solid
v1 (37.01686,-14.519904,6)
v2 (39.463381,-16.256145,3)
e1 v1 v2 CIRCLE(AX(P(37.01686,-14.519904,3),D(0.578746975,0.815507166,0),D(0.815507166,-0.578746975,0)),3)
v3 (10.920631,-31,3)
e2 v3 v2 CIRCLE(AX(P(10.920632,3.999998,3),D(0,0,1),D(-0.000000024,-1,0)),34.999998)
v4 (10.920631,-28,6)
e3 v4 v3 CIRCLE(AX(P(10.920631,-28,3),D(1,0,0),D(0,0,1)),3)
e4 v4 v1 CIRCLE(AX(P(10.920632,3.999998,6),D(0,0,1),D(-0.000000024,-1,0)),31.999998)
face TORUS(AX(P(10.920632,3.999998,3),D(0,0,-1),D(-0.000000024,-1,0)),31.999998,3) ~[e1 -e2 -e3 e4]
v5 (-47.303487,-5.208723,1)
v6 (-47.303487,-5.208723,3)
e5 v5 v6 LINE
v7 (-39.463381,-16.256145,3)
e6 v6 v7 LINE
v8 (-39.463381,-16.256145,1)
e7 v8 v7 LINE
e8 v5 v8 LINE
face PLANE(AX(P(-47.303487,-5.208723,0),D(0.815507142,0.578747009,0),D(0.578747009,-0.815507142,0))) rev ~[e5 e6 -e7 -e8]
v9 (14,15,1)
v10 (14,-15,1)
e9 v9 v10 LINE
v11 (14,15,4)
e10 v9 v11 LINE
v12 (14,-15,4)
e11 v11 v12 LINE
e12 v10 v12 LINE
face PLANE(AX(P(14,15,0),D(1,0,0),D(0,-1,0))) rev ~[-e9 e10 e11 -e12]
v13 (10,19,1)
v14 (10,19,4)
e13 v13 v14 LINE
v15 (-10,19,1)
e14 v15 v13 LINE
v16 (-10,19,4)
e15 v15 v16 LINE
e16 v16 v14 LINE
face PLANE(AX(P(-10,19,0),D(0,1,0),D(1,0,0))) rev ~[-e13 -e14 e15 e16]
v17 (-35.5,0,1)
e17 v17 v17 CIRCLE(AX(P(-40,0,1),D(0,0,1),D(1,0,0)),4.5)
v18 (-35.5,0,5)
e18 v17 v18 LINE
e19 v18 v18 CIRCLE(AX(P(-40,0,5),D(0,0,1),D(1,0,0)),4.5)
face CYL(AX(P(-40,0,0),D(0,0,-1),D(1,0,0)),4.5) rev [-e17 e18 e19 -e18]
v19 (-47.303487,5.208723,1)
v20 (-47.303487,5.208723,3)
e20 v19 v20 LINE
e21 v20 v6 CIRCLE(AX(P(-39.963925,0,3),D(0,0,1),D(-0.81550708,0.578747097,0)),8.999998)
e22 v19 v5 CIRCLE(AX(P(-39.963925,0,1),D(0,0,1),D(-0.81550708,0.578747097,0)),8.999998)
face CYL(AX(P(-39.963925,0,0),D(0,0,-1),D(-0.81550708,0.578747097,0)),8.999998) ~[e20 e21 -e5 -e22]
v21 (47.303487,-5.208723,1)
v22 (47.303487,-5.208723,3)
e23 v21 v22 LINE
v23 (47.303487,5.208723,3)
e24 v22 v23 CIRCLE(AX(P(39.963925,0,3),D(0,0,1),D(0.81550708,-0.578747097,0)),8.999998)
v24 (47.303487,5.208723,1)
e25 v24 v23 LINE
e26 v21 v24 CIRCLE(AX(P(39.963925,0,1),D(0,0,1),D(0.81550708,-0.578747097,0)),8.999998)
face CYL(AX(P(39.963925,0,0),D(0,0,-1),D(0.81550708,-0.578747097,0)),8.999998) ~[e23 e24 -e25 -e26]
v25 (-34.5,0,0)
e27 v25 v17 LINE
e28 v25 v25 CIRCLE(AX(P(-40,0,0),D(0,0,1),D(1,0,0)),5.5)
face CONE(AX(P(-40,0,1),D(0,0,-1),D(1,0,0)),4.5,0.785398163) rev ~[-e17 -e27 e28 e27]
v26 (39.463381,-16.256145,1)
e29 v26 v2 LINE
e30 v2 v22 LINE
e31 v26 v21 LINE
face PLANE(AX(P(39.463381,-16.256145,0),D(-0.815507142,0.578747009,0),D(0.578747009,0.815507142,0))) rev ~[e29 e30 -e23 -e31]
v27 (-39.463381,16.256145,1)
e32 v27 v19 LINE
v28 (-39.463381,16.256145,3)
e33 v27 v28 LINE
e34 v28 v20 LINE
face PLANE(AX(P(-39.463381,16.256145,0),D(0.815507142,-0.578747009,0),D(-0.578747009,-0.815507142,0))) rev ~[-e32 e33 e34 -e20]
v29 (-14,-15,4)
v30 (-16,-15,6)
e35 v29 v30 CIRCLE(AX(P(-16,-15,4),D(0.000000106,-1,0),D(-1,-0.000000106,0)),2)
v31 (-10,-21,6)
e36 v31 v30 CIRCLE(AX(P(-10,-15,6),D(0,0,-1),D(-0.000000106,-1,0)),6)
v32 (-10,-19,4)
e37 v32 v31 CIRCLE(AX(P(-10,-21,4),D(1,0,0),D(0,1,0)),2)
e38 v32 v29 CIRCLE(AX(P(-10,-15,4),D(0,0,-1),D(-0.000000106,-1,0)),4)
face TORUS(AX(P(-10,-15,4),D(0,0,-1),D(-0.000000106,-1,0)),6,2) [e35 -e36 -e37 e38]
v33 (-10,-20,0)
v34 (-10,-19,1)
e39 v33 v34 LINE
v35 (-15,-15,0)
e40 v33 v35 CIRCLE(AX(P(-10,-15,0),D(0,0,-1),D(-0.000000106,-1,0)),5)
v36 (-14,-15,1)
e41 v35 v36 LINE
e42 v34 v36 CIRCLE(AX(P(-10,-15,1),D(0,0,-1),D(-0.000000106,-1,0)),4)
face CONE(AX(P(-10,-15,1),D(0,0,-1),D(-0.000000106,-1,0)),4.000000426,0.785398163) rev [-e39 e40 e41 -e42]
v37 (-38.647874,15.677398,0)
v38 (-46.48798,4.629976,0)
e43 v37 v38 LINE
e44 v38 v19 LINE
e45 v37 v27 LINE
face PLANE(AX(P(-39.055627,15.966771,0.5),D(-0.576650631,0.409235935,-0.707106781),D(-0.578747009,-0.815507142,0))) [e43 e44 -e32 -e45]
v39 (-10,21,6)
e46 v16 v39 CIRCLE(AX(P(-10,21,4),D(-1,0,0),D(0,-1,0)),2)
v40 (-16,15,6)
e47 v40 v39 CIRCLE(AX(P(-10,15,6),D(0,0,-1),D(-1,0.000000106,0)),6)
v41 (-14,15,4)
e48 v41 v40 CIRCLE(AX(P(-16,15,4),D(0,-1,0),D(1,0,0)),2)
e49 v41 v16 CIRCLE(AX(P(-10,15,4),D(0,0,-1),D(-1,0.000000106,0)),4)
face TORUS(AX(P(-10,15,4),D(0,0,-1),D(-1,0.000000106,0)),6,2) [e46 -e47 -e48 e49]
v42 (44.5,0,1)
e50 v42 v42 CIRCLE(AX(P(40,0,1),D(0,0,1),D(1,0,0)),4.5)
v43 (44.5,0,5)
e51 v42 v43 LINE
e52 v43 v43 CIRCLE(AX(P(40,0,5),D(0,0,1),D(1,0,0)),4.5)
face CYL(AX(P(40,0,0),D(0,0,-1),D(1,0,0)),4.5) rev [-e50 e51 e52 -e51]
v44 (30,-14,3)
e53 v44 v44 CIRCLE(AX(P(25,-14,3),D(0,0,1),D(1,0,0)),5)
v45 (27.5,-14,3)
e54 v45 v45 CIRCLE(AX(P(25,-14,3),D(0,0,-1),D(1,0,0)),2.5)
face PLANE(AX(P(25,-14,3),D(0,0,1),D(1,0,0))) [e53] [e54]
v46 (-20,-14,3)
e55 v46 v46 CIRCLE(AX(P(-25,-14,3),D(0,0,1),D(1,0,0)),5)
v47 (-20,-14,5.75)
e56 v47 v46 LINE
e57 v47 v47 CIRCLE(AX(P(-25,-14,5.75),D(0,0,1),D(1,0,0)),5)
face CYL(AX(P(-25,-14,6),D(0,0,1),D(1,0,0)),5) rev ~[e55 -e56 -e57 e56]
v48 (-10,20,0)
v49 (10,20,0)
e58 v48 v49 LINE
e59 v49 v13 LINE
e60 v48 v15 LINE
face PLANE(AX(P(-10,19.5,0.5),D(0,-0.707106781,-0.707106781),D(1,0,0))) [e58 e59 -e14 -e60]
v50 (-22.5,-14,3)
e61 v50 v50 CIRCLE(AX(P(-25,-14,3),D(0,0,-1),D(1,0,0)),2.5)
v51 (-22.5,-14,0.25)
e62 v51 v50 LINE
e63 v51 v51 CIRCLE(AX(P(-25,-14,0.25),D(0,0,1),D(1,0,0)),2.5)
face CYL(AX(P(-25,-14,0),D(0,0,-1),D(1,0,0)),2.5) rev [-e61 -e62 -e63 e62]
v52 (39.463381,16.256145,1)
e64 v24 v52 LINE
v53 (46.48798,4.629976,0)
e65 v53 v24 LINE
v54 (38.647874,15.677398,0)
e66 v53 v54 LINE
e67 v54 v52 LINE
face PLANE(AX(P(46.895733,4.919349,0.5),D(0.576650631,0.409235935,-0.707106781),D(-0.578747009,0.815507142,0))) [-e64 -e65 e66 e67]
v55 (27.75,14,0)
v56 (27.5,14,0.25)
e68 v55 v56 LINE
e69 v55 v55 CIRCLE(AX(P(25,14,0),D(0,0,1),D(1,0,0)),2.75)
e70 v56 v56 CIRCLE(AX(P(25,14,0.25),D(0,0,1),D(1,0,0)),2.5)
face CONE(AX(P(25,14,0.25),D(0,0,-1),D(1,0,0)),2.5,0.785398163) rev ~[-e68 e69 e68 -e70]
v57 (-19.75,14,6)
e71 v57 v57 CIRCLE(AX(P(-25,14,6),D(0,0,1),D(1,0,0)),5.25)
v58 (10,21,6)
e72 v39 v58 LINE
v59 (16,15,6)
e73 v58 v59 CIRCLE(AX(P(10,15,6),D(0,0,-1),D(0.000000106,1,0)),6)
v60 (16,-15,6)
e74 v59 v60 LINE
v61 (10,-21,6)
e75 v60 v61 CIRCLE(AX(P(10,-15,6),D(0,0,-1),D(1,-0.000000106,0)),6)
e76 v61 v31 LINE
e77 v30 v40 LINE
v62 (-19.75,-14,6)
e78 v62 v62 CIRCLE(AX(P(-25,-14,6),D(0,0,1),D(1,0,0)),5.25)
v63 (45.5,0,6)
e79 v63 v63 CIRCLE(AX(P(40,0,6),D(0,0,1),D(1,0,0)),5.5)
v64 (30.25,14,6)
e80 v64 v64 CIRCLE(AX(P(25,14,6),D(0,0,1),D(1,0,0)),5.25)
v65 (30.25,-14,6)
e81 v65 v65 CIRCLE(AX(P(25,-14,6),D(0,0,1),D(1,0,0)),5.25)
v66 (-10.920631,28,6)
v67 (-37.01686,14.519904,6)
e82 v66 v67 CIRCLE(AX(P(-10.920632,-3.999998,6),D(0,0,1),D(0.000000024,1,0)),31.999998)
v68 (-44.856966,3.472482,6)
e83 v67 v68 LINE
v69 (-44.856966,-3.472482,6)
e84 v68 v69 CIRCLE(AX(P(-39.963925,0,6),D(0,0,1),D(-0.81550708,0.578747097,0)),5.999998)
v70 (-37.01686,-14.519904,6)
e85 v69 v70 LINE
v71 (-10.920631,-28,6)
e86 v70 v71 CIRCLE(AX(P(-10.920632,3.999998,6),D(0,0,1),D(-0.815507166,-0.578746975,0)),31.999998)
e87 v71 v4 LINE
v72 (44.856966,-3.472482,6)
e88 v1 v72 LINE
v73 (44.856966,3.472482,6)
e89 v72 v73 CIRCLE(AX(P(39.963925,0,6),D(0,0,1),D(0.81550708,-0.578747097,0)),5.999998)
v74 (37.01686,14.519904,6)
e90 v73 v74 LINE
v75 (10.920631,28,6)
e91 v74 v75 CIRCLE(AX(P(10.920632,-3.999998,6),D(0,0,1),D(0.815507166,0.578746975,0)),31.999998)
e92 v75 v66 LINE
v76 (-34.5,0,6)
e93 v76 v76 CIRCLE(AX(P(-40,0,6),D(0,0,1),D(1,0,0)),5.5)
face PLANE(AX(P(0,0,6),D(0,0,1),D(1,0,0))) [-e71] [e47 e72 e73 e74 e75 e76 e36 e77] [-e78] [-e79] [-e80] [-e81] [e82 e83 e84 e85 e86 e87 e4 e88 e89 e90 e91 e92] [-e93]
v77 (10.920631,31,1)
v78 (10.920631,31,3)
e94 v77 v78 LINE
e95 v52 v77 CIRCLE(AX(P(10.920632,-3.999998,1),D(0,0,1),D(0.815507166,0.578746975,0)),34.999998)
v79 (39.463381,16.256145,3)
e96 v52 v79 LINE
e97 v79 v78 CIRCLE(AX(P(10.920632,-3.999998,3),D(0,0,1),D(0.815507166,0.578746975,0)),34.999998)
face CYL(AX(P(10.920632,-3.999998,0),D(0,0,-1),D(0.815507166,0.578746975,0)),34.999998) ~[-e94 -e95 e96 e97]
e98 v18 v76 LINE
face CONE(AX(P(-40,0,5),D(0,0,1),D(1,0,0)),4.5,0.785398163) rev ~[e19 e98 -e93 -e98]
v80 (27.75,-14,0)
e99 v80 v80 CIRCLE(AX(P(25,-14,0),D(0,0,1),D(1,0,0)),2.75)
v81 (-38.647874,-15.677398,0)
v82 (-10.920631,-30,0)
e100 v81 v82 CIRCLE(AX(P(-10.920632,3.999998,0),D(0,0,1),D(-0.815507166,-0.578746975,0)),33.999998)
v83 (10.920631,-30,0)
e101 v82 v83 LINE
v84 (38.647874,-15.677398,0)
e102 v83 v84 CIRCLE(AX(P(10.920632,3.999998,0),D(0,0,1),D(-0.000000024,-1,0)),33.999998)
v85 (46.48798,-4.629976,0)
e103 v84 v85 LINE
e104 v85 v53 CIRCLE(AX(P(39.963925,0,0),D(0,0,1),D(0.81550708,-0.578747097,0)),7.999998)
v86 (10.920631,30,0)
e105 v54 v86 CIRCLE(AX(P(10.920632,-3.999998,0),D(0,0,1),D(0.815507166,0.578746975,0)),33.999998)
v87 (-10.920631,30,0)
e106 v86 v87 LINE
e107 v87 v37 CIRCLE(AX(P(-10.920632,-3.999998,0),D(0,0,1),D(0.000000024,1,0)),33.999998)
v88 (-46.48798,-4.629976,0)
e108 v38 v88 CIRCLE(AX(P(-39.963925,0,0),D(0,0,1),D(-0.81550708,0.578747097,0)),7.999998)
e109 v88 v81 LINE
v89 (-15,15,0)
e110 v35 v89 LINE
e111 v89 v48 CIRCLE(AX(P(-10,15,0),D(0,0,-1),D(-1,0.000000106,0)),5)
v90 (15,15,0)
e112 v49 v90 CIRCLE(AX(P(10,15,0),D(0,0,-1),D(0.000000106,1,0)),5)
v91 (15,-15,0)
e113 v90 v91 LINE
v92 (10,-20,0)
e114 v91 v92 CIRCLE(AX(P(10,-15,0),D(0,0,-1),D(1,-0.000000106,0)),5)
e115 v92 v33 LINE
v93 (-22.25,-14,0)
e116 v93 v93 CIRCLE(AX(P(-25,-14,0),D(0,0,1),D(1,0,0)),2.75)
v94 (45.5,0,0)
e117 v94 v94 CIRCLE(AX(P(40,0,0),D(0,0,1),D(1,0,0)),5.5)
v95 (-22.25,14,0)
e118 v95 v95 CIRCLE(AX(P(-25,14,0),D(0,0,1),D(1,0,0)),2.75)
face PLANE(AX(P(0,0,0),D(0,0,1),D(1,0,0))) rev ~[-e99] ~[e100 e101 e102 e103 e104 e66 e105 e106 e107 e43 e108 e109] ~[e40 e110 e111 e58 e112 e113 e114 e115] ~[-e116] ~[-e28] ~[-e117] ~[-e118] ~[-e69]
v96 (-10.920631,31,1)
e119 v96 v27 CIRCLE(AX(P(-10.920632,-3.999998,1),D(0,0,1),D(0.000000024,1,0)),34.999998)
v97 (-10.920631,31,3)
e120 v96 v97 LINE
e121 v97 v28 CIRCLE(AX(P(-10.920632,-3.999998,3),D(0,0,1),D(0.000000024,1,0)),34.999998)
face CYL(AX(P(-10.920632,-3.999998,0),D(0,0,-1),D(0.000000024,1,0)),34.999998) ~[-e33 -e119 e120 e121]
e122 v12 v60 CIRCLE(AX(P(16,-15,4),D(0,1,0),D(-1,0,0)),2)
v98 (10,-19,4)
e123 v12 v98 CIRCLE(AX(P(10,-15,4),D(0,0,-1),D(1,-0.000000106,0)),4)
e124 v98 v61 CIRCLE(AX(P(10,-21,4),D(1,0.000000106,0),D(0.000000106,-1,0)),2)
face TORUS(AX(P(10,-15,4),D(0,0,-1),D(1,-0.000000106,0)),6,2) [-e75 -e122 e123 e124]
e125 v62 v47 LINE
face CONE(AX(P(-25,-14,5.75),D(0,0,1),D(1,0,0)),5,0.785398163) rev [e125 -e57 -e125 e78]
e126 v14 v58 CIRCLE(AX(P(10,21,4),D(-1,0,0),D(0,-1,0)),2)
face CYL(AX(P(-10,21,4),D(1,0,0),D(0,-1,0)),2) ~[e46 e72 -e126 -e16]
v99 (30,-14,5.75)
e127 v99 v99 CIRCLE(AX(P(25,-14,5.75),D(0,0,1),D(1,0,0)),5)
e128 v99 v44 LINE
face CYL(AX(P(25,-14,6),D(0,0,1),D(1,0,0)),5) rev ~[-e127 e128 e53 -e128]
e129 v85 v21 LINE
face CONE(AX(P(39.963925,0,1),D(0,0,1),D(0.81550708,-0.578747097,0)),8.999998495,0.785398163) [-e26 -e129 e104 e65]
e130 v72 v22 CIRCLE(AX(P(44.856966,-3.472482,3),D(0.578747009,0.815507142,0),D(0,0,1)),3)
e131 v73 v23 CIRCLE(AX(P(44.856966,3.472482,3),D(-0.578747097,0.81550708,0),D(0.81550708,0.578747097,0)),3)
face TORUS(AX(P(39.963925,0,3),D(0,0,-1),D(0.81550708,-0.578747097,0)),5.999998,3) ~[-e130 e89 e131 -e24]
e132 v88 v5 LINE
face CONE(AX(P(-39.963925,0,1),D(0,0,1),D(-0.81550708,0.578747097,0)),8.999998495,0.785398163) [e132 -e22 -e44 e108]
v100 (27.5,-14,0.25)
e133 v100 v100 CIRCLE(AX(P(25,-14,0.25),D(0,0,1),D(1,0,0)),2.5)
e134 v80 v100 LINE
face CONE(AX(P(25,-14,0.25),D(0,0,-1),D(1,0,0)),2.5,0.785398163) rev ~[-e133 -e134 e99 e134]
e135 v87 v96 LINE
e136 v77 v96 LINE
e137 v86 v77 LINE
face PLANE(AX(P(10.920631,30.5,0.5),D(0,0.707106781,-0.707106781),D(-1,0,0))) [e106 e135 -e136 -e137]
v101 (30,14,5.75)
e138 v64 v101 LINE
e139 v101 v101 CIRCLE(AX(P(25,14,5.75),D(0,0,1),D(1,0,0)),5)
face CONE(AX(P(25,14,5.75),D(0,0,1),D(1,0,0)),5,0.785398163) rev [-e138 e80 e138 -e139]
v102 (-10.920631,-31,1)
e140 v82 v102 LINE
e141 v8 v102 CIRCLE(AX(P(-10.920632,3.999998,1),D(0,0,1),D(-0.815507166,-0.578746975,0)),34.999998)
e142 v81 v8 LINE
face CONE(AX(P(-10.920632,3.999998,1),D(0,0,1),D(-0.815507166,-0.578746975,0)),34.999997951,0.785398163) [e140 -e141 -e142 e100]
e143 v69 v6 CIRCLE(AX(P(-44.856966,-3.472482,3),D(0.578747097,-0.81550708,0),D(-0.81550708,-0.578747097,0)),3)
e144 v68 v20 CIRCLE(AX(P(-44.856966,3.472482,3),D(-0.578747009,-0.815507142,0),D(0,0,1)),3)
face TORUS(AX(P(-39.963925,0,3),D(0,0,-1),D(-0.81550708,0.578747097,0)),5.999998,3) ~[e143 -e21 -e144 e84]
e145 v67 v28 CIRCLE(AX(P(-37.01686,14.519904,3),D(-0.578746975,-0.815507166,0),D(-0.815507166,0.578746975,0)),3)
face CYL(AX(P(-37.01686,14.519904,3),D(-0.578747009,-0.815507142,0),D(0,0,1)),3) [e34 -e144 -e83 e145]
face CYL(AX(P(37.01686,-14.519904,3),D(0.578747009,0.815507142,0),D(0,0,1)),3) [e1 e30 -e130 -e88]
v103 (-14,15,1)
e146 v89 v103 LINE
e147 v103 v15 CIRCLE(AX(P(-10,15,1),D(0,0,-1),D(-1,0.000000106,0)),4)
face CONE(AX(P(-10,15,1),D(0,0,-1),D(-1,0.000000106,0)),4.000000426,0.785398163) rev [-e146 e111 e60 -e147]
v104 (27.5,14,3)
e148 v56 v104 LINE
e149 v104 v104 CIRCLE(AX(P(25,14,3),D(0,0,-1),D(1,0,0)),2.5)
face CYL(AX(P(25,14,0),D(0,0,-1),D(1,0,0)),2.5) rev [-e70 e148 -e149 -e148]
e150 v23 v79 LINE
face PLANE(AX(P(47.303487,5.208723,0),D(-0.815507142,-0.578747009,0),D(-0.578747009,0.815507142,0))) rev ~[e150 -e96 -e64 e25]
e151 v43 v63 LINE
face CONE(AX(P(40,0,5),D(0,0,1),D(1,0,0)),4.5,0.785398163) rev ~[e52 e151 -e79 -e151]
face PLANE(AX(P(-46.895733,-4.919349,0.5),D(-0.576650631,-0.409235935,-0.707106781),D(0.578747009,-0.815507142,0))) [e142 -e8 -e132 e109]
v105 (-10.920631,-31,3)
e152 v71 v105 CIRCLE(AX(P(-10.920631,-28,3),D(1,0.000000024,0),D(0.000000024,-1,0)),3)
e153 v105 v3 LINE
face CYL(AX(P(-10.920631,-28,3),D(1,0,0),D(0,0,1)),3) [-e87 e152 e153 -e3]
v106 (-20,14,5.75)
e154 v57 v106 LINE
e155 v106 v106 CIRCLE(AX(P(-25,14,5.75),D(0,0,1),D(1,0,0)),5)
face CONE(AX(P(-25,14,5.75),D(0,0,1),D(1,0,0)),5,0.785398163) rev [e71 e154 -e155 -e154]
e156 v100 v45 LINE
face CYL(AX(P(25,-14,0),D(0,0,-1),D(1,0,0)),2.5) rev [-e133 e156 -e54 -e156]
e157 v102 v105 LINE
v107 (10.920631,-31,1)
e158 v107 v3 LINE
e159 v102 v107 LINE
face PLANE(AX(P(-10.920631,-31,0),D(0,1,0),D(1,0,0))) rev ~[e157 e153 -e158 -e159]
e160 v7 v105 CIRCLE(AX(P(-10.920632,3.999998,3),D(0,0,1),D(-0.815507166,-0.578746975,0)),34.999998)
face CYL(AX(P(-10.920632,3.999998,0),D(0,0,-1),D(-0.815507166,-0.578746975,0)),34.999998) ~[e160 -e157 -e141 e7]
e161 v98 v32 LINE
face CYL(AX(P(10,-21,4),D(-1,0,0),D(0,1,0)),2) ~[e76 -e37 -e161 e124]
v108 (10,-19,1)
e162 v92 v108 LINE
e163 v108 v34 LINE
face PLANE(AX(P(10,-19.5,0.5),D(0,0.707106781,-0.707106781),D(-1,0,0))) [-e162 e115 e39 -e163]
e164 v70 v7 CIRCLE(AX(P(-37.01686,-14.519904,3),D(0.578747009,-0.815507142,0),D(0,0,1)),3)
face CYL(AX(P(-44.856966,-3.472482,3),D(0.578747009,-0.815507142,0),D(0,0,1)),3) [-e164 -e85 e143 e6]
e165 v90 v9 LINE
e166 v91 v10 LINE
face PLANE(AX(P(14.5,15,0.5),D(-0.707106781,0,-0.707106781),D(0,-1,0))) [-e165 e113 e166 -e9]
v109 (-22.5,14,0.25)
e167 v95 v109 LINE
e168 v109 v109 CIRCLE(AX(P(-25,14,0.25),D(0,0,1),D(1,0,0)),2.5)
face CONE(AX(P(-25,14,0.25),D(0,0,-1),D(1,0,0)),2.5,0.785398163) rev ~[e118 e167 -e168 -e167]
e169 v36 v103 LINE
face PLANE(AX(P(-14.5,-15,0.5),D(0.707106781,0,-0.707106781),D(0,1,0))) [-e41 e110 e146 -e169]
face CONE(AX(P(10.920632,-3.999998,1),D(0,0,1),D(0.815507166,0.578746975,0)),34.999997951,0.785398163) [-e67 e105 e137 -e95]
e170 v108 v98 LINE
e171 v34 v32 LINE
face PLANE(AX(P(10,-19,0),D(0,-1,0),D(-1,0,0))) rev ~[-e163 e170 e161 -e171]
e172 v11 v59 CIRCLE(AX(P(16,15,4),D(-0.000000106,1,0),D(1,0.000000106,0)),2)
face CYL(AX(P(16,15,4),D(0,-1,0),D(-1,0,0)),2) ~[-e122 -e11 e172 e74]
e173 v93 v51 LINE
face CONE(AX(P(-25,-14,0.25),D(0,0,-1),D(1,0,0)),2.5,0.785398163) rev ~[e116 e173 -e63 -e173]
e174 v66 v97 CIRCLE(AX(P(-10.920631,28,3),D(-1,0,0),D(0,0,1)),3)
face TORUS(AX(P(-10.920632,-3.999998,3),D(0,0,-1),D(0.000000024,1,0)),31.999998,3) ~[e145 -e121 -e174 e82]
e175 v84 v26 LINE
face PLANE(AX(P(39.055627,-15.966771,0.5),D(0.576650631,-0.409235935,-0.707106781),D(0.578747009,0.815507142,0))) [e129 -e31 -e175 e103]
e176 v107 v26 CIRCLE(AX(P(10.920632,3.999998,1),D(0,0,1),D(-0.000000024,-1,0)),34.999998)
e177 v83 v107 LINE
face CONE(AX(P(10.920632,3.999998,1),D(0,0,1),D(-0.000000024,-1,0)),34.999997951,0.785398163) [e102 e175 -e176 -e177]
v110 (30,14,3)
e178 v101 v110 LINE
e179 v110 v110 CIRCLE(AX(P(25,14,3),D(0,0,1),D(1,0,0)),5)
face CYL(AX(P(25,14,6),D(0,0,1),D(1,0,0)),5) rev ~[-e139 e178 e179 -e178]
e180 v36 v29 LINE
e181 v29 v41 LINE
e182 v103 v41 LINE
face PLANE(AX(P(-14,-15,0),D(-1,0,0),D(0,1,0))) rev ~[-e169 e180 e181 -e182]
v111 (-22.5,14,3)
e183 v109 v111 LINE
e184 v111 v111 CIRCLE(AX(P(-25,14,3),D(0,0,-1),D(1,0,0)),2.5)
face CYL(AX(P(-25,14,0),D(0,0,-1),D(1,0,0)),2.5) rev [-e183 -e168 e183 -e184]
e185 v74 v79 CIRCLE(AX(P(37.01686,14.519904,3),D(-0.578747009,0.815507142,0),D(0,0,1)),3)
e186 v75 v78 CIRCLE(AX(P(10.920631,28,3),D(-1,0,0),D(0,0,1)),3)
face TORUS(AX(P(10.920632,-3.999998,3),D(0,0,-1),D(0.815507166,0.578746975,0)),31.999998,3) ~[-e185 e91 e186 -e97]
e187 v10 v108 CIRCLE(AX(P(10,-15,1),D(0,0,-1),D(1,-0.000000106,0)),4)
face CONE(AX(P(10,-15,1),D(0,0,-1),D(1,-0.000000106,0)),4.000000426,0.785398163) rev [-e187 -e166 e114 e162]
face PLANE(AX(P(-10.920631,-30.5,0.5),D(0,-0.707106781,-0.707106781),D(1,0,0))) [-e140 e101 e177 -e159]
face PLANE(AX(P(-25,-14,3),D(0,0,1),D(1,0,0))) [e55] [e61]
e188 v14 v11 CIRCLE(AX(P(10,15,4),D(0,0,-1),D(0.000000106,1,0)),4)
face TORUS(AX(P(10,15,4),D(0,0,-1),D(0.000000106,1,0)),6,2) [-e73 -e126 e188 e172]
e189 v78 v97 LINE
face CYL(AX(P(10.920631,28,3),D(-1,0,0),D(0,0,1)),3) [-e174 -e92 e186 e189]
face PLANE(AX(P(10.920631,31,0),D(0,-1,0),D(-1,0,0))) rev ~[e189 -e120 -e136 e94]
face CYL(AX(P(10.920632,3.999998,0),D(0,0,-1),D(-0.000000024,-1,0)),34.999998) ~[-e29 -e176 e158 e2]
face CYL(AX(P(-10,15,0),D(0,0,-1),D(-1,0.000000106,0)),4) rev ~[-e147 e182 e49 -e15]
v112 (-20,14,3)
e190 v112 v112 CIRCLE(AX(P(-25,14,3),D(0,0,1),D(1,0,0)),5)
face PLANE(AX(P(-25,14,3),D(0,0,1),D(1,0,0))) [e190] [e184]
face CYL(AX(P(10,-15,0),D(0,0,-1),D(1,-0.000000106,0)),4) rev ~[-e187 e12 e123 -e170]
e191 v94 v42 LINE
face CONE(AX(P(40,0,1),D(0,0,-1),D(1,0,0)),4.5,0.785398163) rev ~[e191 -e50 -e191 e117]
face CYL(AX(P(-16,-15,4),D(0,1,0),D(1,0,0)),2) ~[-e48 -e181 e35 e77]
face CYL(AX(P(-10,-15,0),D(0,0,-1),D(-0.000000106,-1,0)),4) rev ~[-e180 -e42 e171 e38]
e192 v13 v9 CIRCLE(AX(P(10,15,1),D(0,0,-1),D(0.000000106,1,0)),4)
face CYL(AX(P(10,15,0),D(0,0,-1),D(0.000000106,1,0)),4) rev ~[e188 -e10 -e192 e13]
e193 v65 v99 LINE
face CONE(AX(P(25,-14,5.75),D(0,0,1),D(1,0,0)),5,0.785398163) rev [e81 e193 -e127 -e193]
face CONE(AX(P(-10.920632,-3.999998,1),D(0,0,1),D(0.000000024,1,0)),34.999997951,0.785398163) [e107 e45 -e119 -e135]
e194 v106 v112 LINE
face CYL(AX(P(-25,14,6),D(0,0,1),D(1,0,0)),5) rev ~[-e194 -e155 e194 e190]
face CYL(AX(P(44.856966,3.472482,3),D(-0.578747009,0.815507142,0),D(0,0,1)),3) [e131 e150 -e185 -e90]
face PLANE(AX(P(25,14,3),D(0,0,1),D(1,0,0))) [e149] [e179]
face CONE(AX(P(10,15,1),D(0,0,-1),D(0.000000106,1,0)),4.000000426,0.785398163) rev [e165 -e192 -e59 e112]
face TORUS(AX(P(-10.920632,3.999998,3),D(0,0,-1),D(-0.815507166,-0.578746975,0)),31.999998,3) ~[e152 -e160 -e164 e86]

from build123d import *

# Parameters (mm, degrees)
F0_R     = 2.5
F0_R_2   = 4.5
F1_DEPTH = 6
F2_R     = 5
F3_DEPTH = 3
F4_R     = 3
F5_SIZE  = 1
F6_SIZE  = 1
F7_SIZE  = 1
F8_SIZE  = 0.25
F9_R     = 2


with BuildPart() as f1:
    # F0 (on Top) → F1 (new body)
    with BuildSketch(Plane.XY):
        with BuildLine():
            Line((-10.920631, -31), (0, -31))
            Line((0, -31), (10.920631, -31))
            ThreePointArc((10.920631, -31), (26.983553, -27.096343), (39.463381, -16.256145))
            Line((39.463381, -16.256145), (47.303487, -5.208723))
            ThreePointArc((47.303487, -5.208723), (48.963923, 0), (47.303487, 5.208723))
            Line((47.303487, 5.208723), (39.463381, 16.256145))
            ThreePointArc((39.463381, 16.256145), (26.983553, 27.096343), (10.920631, 31))
            Line((10.920631, 31), (0, 31))
            Line((0, 31), (-10.920631, 31))
            ThreePointArc((-10.920631, 31), (-26.983553, 27.096343), (-39.463381, 16.256145))
            Line((-39.463381, 16.256145), (-47.303487, 5.208723))
            ThreePointArc((-47.303487, 5.208723), (-48.963923, 0), (-47.303487, -5.208723))
            Line((-47.303487, -5.208723), (-39.463381, -16.256145))
            ThreePointArc((-39.463381, -16.256145), (-26.983553, -27.096343), (-10.920631, -31))
        make_face()
        with Locations((-25, -14)):
            Circle(F0_R, mode=Mode.SUBTRACT)
        with Locations((25, -14)):
            Circle(F0_R, mode=Mode.SUBTRACT)
        with Locations((-40, 0)):
            Circle(F0_R_2, mode=Mode.SUBTRACT)
        with Locations((-25, 14)):
            Circle(F0_R, mode=Mode.SUBTRACT)
        with BuildLine():
            Line((-10, 19), (0, 19))
            Line((0, 19), (10, 19))
            ThreePointArc((10, 19), (12.828427, 17.828427), (14, 15))
            Line((14, 15), (14, 10))
            Line((14, 10), (14, -10))
            Line((14, -10), (14, -15))
            ThreePointArc((14, -15), (12.828427, -17.828427), (10, -19))
            Line((10, -19), (0, -19))
            Line((0, -19), (-10, -19))
            ThreePointArc((-10, -19), (-12.828427, -17.828427), (-14, -15))
            Line((-14, -15), (-14, -10))
            Line((-14, -10), (-14, 10))
            Line((-14, 10), (-14, 15))
            ThreePointArc((-14, 15), (-12.828427, 17.828427), (-10, 19))
        make_face(mode=Mode.SUBTRACT)
        with Locations((40, 0)):
            Circle(F0_R_2, mode=Mode.SUBTRACT)
        with Locations((25, 14)):
            Circle(F0_R, mode=Mode.SUBTRACT)
    extrude(amount=F1_DEPTH)

    # F2 (on face) → F3 (cut)
    with BuildSketch(Plane.XY.offset(6)):
        with Locations((-25, 14)):
            Circle(F2_R)
        with Locations((25, 14)):
            Circle(F2_R)
        with Locations((25, -14)):
            Circle(F2_R)
        with Locations((-25, -14)):
            Circle(F2_R)
    extrude(amount=-F3_DEPTH, mode=Mode.SUBTRACT)

    # F4
    f4_edges = [f1.edges().sort_by_distance(p)[0] for p in [
        (0, 31, 6),
    ]]
    fillet(f4_edges, radius=F4_R)

    # F5
    f5_edges = [f1.edges().sort_by_distance(p)[0] for p in [
        (26.983553, -27.096343, 0),
    ]]
    chamfer(f5_edges, length=F5_SIZE)

    # F6
    f6_edges = [f1.edges().sort_by_distance(p)[0] for p in [
        (-14, 0, 0),
    ]]
    chamfer(f6_edges, length=F6_SIZE)

    # F7
    f7_edges = [f1.edges().sort_by_distance(p)[0] for p in [
        (-44.5, 0, 6),
        (35.5, 0, 6),
        (35.5, 0, 0),
        (-44.5, 0, 0),
    ]]
    chamfer(f7_edges, length=F7_SIZE)

    # F8
    f8_edges = [f1.edges().sort_by_distance(p)[0] for p in [
        (-30, -14, 6),
        (-30, 14, 6),
        (20, 14, 6),
        (20, -14, 6),
        (22.5, -14, 0),
        (22.5, 14, 0),
        (-27.5, 14, 0),
        (-27.5, -14, 0),
    ]]
    chamfer(f8_edges, length=F8_SIZE)

    # F9
    f9_edges = [f1.edges().sort_by_distance(p)[0] for p in [
        (0, 19, 6),
    ]]
    fillet(f9_edges, radius=F9_R)


solid = f1.part
